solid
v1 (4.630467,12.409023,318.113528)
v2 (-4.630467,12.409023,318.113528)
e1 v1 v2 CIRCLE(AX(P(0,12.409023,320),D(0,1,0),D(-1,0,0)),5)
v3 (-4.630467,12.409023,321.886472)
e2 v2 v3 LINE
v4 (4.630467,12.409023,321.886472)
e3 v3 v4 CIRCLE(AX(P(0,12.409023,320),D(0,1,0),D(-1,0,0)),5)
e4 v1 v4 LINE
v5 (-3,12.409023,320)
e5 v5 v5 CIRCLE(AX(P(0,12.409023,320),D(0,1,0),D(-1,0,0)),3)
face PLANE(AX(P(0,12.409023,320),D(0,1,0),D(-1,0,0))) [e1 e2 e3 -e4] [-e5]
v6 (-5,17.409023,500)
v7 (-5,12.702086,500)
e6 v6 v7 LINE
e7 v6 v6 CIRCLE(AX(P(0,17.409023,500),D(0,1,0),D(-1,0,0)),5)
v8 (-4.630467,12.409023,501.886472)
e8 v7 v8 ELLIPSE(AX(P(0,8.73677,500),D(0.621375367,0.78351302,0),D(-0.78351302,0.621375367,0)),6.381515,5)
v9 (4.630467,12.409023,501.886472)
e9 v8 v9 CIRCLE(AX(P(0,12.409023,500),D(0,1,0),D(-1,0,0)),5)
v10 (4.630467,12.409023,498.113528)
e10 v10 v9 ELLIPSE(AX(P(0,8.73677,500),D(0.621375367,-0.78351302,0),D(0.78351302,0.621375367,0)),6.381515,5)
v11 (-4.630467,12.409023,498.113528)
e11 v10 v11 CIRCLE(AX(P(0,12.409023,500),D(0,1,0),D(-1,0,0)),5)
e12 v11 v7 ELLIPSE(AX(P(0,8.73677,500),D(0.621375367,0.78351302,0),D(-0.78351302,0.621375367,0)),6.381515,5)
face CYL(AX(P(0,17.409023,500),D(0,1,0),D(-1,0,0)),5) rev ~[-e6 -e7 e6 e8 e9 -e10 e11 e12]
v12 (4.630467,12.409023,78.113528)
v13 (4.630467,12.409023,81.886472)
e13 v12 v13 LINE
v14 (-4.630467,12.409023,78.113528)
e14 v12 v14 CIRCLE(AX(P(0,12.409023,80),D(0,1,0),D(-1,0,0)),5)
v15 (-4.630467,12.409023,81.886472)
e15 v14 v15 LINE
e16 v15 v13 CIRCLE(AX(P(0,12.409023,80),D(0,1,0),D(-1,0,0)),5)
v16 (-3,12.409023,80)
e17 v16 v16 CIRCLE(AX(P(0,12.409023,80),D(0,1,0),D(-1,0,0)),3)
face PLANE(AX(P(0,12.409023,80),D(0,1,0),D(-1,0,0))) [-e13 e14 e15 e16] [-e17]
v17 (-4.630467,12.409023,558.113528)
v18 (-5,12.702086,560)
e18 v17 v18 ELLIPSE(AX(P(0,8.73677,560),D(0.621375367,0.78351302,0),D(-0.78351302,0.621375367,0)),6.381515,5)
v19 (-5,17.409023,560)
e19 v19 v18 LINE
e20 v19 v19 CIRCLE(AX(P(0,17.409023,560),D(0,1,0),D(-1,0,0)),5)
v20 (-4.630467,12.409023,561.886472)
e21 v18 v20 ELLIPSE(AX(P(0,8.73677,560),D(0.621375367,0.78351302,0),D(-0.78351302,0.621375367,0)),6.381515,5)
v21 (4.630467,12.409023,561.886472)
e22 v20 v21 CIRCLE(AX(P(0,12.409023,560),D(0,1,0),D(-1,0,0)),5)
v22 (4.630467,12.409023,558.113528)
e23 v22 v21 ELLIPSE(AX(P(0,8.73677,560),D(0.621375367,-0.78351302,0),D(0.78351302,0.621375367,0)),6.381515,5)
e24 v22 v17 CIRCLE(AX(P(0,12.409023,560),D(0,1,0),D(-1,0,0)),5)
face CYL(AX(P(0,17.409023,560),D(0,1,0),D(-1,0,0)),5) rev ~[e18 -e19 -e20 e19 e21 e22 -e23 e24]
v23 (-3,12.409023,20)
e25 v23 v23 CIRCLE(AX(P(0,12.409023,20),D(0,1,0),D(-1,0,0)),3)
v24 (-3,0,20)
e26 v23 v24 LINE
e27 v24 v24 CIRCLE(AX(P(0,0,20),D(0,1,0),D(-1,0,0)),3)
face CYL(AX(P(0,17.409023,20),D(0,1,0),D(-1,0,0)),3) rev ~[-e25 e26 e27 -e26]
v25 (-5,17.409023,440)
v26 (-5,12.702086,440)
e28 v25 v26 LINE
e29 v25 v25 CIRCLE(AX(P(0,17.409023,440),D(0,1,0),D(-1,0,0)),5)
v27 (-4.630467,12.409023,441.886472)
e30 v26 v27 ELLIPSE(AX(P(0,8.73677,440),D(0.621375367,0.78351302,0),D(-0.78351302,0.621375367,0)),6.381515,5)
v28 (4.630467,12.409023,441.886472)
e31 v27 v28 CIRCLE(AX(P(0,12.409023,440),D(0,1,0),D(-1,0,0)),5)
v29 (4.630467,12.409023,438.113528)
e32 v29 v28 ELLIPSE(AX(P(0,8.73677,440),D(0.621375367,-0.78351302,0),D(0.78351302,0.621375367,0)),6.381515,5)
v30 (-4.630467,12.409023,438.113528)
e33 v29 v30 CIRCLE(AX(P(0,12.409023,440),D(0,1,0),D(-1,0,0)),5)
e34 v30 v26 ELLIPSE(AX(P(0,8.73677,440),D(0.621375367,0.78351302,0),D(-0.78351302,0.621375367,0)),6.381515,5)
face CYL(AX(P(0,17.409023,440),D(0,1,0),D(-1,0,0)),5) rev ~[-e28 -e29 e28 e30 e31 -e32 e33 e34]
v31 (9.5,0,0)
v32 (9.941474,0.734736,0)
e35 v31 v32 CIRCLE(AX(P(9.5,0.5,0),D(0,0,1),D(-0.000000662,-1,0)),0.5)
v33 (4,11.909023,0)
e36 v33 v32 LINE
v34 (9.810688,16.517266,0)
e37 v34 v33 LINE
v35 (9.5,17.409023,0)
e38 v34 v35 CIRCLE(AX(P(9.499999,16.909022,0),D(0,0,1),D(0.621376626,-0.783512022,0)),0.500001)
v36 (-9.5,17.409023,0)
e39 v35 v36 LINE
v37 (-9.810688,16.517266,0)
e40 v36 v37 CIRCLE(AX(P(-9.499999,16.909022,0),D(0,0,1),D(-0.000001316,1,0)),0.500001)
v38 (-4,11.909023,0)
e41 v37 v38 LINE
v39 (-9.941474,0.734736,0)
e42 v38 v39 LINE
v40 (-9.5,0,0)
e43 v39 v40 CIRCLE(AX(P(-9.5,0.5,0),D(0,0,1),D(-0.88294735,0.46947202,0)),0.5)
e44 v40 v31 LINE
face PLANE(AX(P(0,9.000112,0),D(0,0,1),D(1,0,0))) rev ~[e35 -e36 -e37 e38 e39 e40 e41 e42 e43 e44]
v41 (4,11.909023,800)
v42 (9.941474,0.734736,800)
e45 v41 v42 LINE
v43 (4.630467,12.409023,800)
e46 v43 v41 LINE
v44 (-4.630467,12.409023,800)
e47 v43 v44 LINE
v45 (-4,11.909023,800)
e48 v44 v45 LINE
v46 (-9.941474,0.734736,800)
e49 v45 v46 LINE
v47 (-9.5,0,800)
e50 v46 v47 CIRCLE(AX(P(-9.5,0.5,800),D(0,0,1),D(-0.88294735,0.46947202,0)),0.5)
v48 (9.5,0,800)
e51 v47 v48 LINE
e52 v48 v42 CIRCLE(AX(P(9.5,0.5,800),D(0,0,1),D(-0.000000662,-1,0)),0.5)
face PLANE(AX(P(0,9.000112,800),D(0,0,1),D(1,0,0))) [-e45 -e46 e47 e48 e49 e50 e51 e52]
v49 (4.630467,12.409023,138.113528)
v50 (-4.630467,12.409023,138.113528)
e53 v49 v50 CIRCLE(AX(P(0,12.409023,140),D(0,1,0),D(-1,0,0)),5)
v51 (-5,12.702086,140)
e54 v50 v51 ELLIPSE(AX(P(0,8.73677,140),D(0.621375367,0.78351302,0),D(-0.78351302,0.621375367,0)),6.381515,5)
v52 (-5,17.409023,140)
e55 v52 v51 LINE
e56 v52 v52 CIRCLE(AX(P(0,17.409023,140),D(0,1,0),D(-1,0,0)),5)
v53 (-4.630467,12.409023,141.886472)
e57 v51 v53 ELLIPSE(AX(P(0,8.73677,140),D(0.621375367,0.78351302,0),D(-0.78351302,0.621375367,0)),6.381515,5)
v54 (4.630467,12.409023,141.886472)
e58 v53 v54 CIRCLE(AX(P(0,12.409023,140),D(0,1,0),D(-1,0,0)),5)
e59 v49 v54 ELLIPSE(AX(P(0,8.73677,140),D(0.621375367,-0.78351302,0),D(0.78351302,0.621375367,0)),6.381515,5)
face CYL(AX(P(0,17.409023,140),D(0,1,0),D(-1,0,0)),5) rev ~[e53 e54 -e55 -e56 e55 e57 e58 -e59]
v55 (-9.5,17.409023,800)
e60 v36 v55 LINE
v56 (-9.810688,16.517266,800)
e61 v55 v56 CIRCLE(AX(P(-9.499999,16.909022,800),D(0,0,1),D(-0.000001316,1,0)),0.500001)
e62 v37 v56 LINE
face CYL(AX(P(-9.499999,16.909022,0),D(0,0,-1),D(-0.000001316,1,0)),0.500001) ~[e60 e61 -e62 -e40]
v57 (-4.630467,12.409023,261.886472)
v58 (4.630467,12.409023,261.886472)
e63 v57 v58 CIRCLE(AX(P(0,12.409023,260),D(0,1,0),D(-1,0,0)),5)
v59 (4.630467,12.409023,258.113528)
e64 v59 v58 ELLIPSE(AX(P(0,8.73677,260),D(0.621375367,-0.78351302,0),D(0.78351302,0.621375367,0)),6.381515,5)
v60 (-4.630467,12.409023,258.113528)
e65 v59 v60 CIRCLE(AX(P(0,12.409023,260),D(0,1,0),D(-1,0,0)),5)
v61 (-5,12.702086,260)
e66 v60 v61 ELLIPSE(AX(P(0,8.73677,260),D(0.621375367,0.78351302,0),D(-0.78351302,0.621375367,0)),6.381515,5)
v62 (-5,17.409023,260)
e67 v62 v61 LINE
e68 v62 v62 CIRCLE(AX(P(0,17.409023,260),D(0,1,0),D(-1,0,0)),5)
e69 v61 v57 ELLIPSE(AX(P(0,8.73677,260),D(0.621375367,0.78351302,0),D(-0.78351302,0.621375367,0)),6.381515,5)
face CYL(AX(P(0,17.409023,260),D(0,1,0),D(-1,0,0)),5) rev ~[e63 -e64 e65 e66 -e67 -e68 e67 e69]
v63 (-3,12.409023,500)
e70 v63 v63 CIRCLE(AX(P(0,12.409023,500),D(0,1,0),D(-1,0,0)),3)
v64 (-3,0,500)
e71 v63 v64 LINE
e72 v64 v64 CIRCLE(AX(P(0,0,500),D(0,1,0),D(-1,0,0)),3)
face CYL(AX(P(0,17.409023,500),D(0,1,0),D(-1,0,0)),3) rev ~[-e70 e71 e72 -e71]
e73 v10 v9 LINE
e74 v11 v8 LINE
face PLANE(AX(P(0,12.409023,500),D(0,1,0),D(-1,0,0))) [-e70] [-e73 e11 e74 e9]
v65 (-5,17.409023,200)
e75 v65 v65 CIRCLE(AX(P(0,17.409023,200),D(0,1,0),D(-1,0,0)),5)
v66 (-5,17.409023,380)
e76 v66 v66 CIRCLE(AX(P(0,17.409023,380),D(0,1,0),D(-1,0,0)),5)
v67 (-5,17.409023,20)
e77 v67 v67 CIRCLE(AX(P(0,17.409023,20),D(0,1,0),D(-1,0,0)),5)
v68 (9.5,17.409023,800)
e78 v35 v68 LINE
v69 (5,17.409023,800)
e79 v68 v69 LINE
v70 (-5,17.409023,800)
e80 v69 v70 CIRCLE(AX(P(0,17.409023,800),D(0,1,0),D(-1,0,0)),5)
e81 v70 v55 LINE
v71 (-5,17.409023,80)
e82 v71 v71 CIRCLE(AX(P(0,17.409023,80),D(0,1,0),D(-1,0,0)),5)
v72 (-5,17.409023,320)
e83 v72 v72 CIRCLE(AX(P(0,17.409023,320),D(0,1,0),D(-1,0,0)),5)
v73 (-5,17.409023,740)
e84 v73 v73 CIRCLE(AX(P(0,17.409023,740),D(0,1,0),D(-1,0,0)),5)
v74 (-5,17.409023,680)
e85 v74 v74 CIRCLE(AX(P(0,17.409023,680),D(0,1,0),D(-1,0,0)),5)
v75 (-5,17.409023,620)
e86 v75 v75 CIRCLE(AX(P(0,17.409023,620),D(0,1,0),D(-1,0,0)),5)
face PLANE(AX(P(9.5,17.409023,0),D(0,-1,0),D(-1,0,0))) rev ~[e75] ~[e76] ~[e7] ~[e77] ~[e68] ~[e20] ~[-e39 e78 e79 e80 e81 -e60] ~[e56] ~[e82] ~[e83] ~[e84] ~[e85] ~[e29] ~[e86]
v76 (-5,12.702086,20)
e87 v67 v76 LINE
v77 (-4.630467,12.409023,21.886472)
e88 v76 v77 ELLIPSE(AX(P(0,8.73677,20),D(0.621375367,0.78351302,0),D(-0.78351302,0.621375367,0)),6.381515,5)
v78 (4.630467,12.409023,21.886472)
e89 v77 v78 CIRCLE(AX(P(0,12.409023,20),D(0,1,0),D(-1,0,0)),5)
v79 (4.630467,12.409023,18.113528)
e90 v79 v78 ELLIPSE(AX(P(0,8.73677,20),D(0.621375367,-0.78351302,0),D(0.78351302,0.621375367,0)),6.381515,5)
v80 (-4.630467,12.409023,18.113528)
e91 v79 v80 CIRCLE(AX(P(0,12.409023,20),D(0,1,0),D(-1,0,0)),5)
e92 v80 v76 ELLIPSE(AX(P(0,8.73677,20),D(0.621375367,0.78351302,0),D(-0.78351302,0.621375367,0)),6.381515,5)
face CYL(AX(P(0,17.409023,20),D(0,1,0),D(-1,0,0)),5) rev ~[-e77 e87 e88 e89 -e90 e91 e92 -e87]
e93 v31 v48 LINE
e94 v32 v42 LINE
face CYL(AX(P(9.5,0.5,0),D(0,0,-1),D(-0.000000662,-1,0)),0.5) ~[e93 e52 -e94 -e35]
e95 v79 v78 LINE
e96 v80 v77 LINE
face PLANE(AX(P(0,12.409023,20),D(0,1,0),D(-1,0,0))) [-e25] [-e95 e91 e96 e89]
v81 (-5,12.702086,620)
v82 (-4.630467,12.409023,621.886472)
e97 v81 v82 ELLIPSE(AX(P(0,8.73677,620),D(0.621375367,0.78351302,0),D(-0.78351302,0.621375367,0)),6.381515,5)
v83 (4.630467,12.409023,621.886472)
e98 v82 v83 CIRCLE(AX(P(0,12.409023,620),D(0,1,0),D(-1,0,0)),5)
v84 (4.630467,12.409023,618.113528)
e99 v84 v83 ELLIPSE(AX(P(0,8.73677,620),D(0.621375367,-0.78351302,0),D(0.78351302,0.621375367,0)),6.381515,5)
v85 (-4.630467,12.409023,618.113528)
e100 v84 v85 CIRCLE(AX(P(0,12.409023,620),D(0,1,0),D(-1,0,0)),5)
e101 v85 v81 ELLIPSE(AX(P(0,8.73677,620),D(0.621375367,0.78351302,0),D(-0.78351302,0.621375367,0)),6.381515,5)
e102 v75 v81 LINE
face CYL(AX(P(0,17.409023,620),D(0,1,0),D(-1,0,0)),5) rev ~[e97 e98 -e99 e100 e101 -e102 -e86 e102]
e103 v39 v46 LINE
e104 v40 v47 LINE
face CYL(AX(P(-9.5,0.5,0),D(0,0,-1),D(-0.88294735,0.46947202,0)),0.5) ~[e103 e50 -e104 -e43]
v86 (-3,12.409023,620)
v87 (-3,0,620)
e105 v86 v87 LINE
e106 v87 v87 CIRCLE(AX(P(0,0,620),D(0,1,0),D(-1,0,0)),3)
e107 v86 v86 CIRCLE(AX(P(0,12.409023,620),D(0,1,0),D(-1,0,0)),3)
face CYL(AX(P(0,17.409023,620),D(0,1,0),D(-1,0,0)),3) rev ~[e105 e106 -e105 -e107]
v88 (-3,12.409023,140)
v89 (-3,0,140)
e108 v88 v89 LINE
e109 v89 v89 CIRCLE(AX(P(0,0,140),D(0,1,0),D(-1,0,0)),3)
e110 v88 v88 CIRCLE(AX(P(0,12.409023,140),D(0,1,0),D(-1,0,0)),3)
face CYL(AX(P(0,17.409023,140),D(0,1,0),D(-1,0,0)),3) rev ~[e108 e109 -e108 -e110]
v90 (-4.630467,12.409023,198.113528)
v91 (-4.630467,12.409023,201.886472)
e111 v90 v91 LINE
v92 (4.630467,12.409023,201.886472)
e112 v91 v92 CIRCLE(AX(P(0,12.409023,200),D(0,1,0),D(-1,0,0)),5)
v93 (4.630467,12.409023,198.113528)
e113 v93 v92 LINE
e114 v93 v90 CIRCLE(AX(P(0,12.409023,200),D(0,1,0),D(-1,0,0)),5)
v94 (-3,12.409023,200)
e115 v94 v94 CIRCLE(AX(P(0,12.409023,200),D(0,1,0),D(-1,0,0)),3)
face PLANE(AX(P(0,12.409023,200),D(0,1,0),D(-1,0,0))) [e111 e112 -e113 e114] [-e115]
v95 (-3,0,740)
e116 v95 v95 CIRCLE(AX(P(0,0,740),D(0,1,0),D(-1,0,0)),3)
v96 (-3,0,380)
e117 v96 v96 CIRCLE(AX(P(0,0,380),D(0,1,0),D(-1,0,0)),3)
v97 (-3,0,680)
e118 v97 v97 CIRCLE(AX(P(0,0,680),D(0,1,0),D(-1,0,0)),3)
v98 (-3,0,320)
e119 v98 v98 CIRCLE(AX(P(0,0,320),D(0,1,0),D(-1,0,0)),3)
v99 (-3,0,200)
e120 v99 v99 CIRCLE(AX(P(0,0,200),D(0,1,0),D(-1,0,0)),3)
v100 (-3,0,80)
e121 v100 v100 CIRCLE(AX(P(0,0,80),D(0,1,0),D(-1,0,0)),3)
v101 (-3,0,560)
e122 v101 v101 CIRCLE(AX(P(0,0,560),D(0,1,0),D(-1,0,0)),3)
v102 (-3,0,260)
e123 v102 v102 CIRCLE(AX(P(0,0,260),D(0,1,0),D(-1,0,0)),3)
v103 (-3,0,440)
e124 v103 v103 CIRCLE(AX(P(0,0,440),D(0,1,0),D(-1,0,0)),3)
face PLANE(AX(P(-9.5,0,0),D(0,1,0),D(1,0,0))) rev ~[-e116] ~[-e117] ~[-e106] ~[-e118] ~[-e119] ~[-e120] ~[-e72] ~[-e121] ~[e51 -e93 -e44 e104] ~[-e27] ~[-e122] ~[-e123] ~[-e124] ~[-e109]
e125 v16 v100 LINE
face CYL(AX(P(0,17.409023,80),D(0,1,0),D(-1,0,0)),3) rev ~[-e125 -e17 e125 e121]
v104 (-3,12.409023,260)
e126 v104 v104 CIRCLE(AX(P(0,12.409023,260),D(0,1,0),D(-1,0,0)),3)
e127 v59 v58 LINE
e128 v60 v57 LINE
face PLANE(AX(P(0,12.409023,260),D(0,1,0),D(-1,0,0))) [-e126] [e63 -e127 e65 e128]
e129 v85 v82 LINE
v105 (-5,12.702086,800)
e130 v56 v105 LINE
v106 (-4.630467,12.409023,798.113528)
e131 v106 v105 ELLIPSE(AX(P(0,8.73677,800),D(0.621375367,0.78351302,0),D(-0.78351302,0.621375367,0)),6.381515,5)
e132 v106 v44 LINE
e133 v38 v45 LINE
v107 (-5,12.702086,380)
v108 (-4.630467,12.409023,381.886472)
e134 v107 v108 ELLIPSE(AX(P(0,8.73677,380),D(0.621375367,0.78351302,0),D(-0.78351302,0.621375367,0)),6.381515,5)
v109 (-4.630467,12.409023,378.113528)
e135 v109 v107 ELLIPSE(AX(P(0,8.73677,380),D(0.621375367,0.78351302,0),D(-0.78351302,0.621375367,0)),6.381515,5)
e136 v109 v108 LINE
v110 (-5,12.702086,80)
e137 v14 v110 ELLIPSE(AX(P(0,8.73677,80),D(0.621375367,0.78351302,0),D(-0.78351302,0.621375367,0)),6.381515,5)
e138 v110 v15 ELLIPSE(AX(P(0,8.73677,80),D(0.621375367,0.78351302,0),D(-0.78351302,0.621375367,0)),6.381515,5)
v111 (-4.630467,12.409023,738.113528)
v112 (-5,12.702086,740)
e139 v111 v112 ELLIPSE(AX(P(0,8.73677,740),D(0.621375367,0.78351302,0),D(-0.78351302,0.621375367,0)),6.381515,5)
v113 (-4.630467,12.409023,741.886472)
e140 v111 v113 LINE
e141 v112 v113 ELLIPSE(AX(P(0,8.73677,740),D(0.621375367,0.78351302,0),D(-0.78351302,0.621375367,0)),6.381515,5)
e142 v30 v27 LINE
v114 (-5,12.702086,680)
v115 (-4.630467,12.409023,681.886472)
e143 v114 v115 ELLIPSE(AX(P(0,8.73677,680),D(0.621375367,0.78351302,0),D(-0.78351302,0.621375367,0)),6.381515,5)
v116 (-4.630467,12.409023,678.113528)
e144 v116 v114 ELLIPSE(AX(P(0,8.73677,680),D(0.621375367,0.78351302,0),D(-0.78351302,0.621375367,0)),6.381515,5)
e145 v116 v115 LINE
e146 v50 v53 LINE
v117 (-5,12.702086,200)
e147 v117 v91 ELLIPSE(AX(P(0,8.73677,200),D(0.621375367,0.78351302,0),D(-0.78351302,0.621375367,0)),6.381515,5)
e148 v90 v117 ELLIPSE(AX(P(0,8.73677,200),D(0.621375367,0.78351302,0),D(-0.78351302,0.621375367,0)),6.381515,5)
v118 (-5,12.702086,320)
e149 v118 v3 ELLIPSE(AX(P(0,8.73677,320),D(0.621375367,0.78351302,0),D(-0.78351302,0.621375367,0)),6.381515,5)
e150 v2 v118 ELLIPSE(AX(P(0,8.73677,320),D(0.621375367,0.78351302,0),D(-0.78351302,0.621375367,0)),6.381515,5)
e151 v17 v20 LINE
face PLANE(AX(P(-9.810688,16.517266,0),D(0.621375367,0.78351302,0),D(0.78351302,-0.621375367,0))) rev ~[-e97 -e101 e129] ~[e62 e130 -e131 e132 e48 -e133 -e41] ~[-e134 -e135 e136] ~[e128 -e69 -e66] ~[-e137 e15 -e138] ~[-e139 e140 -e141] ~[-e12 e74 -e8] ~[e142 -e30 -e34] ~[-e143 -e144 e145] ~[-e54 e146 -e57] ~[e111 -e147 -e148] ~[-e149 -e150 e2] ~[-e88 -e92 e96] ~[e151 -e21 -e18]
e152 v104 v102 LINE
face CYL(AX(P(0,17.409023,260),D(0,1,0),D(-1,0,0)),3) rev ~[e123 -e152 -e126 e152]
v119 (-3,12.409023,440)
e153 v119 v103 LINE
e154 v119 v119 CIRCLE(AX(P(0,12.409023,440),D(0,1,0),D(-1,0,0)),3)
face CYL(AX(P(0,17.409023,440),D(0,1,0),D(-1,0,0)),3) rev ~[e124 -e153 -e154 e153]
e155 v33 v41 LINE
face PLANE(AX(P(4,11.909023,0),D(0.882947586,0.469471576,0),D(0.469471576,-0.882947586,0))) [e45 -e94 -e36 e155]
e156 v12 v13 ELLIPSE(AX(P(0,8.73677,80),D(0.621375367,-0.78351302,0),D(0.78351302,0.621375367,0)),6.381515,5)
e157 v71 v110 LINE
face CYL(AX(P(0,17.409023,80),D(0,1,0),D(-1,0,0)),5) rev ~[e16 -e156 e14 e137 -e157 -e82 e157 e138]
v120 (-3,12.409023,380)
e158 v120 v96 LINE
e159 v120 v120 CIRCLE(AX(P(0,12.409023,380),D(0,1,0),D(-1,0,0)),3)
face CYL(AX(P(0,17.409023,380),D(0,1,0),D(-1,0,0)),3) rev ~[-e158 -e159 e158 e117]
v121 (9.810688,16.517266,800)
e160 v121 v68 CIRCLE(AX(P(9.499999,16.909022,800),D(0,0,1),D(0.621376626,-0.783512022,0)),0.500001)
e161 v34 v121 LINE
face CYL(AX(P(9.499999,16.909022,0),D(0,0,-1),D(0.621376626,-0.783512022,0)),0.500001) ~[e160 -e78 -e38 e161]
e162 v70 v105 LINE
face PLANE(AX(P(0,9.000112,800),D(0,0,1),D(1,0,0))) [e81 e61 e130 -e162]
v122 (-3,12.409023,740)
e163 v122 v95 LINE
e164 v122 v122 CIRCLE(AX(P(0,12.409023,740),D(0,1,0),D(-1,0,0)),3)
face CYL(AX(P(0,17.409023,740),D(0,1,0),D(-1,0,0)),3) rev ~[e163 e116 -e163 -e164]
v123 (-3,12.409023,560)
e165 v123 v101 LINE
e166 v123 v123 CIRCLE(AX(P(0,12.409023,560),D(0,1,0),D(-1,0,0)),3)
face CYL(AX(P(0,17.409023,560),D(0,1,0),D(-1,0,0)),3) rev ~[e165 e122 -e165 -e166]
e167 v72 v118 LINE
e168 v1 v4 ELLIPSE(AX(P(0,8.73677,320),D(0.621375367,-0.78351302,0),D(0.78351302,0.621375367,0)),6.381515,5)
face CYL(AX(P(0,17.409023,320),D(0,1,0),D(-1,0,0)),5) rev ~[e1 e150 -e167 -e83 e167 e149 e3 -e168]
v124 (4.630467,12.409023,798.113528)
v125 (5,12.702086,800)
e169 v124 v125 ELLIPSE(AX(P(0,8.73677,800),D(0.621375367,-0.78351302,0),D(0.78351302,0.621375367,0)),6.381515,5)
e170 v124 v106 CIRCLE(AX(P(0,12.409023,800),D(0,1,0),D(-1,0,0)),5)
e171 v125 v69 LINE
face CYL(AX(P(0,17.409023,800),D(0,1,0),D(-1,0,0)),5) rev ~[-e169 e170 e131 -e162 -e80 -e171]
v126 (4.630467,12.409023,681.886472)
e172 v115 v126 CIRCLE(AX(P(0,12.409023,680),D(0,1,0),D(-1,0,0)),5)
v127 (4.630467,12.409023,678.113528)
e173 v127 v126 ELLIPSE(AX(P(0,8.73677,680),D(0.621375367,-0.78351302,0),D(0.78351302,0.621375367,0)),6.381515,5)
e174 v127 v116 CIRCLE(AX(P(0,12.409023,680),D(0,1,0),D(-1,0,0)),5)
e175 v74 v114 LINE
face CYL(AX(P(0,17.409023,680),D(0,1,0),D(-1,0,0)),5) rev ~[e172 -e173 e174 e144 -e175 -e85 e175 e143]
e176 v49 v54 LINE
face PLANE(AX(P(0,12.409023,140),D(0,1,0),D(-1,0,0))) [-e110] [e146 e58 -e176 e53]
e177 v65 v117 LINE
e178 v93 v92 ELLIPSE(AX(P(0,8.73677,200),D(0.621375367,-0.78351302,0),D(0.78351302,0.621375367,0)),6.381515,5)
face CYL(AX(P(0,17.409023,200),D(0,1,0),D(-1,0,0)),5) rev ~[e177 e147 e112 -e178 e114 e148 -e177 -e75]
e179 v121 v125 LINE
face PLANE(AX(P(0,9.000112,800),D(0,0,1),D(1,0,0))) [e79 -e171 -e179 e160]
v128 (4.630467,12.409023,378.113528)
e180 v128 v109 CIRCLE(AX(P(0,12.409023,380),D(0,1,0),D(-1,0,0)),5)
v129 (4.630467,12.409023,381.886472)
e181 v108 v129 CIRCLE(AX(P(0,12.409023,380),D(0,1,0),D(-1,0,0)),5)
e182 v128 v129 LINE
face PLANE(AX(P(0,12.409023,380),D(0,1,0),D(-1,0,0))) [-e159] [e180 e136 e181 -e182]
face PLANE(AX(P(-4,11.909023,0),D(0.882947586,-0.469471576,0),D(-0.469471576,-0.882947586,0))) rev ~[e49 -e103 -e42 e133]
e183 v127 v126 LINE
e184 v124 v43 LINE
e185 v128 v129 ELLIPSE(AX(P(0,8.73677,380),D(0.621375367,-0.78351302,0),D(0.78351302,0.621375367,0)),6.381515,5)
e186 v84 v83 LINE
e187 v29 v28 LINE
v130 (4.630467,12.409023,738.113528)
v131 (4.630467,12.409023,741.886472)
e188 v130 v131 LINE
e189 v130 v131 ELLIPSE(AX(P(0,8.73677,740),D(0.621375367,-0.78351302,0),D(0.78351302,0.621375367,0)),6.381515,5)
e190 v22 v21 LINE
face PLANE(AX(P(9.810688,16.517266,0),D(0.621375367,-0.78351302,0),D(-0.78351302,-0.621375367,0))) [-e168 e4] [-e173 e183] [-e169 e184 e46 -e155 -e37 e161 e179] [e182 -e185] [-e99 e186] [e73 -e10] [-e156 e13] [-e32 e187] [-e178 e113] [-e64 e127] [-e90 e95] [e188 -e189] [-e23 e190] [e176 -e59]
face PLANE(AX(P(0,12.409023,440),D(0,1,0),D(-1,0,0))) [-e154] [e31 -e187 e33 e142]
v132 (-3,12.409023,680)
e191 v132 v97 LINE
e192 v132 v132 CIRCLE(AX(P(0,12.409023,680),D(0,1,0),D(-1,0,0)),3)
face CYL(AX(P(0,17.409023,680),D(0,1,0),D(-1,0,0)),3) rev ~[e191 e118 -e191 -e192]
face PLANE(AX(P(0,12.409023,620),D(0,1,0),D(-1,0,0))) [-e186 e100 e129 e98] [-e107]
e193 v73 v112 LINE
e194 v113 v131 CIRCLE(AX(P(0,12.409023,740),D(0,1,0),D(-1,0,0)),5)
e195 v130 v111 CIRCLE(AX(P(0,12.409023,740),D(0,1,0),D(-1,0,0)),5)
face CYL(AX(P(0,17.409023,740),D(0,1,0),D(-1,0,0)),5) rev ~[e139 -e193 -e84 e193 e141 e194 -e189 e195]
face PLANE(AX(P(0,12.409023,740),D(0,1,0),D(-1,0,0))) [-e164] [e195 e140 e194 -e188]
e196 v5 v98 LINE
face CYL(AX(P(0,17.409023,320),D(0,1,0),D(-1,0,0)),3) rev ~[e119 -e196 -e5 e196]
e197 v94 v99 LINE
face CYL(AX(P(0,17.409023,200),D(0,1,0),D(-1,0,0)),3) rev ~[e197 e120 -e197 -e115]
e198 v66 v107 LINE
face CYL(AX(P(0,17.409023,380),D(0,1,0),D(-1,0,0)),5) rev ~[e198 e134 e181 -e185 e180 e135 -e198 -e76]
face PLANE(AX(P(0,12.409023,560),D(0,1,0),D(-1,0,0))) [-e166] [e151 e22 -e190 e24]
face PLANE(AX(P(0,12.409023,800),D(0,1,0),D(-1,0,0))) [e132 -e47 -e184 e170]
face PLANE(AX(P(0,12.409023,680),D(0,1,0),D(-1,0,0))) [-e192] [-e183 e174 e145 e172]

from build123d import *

# Parameters (mm, degrees)
PAD_DEPTH       = 800
SKETCH001_R     = 3
POCKET_DEPTH    = 17.410023
SKETCH002_R     = 5
POCKET001_DEPTH = 5


with BuildPart() as part:
    # Sketch → Pad (new body)
    with BuildSketch(Plane.XY):
        with BuildLine():
            Line((-9.5, 0), (9.5, 0))
            ThreePointArc((9.5, 0), (9.928584, 0.242481), (9.941474, 0.734736))
            Line((4, 11.909023), (9.941474, 0.734736))
            Line((9.810688, 16.517266), (4, 11.909023))
            ThreePointArc((9.810688, 16.517266), (9.972164, 17.073525), (9.5, 17.409023))
            Line((9.5, 17.409023), (-9.5, 17.409023))
            ThreePointArc((-9.5, 17.409023), (-9.972164, 17.073525), (-9.810688, 16.517266))
            Line((-9.810688, 16.517266), (-4, 11.909023))
            Line((-4, 11.909023), (-9.941474, 0.734736))
            ThreePointArc((-9.941474, 0.734736), (-9.928584, 0.242481), (-9.5, 0))
        make_face()
    extrude(amount=PAD_DEPTH)

    # Sketch001 (on Face2 of Pad) → Pocket (cut, through all)
    with BuildSketch(Plane(origin=(0, 17.409023, 0), x_dir=(-1, 0, 0), z_dir=(0, 1, 0))):
        with Locations((0, 20)):
            Circle(SKETCH001_R)
        with Locations((0, 80)):
            Circle(SKETCH001_R)
        with Locations((0, 140)):
            Circle(SKETCH001_R)
        with Locations((0, 200)):
            Circle(SKETCH001_R)
        with Locations((0, 260)):
            Circle(SKETCH001_R)
        with Locations((0, 320)):
            Circle(SKETCH001_R)
        with Locations((0, 380)):
            Circle(SKETCH001_R)
        with Locations((0, 440)):
            Circle(SKETCH001_R)
        with Locations((0, 500)):
            Circle(SKETCH001_R)
        with Locations((0, 560)):
            Circle(SKETCH001_R)
        with Locations((0, 620)):
            Circle(SKETCH001_R)
        with Locations((0, 680)):
            Circle(SKETCH001_R)
        with Locations((0, 740)):
            Circle(SKETCH001_R)
    extrude(amount=-POCKET_DEPTH, mode=Mode.SUBTRACT)

    # Sketch002 (on Face3 of Pocket) → Pocket001 (cut)
    with BuildSketch(Plane(origin=(0, 17.409023, 0), x_dir=(-1, 0, 0), z_dir=(0, 1, 0))):
        with Locations((0, 20)):
            Circle(SKETCH002_R)
        with Locations((0, 80)):
            Circle(SKETCH002_R)
        with Locations((0, 140)):
            Circle(SKETCH002_R)
        with Locations((0, 200)):
            Circle(SKETCH002_R)
        with Locations((0, 260)):
            Circle(SKETCH002_R)
        with Locations((0, 320)):
            Circle(SKETCH002_R)
        with Locations((0, 380)):
            Circle(SKETCH002_R)
        with Locations((0, 440)):
            Circle(SKETCH002_R)
        with Locations((0, 500)):
            Circle(SKETCH002_R)
        with Locations((0, 560)):
            Circle(SKETCH002_R)
        with Locations((0, 620)):
            Circle(SKETCH002_R)
        with Locations((0, 680)):
            Circle(SKETCH002_R)
        with Locations((0, 740)):
            Circle(SKETCH002_R)
        with Locations((0, 800)):
            Circle(SKETCH002_R)
    extrude(amount=-POCKET001_DEPTH, mode=Mode.SUBTRACT)


solid = part.part
